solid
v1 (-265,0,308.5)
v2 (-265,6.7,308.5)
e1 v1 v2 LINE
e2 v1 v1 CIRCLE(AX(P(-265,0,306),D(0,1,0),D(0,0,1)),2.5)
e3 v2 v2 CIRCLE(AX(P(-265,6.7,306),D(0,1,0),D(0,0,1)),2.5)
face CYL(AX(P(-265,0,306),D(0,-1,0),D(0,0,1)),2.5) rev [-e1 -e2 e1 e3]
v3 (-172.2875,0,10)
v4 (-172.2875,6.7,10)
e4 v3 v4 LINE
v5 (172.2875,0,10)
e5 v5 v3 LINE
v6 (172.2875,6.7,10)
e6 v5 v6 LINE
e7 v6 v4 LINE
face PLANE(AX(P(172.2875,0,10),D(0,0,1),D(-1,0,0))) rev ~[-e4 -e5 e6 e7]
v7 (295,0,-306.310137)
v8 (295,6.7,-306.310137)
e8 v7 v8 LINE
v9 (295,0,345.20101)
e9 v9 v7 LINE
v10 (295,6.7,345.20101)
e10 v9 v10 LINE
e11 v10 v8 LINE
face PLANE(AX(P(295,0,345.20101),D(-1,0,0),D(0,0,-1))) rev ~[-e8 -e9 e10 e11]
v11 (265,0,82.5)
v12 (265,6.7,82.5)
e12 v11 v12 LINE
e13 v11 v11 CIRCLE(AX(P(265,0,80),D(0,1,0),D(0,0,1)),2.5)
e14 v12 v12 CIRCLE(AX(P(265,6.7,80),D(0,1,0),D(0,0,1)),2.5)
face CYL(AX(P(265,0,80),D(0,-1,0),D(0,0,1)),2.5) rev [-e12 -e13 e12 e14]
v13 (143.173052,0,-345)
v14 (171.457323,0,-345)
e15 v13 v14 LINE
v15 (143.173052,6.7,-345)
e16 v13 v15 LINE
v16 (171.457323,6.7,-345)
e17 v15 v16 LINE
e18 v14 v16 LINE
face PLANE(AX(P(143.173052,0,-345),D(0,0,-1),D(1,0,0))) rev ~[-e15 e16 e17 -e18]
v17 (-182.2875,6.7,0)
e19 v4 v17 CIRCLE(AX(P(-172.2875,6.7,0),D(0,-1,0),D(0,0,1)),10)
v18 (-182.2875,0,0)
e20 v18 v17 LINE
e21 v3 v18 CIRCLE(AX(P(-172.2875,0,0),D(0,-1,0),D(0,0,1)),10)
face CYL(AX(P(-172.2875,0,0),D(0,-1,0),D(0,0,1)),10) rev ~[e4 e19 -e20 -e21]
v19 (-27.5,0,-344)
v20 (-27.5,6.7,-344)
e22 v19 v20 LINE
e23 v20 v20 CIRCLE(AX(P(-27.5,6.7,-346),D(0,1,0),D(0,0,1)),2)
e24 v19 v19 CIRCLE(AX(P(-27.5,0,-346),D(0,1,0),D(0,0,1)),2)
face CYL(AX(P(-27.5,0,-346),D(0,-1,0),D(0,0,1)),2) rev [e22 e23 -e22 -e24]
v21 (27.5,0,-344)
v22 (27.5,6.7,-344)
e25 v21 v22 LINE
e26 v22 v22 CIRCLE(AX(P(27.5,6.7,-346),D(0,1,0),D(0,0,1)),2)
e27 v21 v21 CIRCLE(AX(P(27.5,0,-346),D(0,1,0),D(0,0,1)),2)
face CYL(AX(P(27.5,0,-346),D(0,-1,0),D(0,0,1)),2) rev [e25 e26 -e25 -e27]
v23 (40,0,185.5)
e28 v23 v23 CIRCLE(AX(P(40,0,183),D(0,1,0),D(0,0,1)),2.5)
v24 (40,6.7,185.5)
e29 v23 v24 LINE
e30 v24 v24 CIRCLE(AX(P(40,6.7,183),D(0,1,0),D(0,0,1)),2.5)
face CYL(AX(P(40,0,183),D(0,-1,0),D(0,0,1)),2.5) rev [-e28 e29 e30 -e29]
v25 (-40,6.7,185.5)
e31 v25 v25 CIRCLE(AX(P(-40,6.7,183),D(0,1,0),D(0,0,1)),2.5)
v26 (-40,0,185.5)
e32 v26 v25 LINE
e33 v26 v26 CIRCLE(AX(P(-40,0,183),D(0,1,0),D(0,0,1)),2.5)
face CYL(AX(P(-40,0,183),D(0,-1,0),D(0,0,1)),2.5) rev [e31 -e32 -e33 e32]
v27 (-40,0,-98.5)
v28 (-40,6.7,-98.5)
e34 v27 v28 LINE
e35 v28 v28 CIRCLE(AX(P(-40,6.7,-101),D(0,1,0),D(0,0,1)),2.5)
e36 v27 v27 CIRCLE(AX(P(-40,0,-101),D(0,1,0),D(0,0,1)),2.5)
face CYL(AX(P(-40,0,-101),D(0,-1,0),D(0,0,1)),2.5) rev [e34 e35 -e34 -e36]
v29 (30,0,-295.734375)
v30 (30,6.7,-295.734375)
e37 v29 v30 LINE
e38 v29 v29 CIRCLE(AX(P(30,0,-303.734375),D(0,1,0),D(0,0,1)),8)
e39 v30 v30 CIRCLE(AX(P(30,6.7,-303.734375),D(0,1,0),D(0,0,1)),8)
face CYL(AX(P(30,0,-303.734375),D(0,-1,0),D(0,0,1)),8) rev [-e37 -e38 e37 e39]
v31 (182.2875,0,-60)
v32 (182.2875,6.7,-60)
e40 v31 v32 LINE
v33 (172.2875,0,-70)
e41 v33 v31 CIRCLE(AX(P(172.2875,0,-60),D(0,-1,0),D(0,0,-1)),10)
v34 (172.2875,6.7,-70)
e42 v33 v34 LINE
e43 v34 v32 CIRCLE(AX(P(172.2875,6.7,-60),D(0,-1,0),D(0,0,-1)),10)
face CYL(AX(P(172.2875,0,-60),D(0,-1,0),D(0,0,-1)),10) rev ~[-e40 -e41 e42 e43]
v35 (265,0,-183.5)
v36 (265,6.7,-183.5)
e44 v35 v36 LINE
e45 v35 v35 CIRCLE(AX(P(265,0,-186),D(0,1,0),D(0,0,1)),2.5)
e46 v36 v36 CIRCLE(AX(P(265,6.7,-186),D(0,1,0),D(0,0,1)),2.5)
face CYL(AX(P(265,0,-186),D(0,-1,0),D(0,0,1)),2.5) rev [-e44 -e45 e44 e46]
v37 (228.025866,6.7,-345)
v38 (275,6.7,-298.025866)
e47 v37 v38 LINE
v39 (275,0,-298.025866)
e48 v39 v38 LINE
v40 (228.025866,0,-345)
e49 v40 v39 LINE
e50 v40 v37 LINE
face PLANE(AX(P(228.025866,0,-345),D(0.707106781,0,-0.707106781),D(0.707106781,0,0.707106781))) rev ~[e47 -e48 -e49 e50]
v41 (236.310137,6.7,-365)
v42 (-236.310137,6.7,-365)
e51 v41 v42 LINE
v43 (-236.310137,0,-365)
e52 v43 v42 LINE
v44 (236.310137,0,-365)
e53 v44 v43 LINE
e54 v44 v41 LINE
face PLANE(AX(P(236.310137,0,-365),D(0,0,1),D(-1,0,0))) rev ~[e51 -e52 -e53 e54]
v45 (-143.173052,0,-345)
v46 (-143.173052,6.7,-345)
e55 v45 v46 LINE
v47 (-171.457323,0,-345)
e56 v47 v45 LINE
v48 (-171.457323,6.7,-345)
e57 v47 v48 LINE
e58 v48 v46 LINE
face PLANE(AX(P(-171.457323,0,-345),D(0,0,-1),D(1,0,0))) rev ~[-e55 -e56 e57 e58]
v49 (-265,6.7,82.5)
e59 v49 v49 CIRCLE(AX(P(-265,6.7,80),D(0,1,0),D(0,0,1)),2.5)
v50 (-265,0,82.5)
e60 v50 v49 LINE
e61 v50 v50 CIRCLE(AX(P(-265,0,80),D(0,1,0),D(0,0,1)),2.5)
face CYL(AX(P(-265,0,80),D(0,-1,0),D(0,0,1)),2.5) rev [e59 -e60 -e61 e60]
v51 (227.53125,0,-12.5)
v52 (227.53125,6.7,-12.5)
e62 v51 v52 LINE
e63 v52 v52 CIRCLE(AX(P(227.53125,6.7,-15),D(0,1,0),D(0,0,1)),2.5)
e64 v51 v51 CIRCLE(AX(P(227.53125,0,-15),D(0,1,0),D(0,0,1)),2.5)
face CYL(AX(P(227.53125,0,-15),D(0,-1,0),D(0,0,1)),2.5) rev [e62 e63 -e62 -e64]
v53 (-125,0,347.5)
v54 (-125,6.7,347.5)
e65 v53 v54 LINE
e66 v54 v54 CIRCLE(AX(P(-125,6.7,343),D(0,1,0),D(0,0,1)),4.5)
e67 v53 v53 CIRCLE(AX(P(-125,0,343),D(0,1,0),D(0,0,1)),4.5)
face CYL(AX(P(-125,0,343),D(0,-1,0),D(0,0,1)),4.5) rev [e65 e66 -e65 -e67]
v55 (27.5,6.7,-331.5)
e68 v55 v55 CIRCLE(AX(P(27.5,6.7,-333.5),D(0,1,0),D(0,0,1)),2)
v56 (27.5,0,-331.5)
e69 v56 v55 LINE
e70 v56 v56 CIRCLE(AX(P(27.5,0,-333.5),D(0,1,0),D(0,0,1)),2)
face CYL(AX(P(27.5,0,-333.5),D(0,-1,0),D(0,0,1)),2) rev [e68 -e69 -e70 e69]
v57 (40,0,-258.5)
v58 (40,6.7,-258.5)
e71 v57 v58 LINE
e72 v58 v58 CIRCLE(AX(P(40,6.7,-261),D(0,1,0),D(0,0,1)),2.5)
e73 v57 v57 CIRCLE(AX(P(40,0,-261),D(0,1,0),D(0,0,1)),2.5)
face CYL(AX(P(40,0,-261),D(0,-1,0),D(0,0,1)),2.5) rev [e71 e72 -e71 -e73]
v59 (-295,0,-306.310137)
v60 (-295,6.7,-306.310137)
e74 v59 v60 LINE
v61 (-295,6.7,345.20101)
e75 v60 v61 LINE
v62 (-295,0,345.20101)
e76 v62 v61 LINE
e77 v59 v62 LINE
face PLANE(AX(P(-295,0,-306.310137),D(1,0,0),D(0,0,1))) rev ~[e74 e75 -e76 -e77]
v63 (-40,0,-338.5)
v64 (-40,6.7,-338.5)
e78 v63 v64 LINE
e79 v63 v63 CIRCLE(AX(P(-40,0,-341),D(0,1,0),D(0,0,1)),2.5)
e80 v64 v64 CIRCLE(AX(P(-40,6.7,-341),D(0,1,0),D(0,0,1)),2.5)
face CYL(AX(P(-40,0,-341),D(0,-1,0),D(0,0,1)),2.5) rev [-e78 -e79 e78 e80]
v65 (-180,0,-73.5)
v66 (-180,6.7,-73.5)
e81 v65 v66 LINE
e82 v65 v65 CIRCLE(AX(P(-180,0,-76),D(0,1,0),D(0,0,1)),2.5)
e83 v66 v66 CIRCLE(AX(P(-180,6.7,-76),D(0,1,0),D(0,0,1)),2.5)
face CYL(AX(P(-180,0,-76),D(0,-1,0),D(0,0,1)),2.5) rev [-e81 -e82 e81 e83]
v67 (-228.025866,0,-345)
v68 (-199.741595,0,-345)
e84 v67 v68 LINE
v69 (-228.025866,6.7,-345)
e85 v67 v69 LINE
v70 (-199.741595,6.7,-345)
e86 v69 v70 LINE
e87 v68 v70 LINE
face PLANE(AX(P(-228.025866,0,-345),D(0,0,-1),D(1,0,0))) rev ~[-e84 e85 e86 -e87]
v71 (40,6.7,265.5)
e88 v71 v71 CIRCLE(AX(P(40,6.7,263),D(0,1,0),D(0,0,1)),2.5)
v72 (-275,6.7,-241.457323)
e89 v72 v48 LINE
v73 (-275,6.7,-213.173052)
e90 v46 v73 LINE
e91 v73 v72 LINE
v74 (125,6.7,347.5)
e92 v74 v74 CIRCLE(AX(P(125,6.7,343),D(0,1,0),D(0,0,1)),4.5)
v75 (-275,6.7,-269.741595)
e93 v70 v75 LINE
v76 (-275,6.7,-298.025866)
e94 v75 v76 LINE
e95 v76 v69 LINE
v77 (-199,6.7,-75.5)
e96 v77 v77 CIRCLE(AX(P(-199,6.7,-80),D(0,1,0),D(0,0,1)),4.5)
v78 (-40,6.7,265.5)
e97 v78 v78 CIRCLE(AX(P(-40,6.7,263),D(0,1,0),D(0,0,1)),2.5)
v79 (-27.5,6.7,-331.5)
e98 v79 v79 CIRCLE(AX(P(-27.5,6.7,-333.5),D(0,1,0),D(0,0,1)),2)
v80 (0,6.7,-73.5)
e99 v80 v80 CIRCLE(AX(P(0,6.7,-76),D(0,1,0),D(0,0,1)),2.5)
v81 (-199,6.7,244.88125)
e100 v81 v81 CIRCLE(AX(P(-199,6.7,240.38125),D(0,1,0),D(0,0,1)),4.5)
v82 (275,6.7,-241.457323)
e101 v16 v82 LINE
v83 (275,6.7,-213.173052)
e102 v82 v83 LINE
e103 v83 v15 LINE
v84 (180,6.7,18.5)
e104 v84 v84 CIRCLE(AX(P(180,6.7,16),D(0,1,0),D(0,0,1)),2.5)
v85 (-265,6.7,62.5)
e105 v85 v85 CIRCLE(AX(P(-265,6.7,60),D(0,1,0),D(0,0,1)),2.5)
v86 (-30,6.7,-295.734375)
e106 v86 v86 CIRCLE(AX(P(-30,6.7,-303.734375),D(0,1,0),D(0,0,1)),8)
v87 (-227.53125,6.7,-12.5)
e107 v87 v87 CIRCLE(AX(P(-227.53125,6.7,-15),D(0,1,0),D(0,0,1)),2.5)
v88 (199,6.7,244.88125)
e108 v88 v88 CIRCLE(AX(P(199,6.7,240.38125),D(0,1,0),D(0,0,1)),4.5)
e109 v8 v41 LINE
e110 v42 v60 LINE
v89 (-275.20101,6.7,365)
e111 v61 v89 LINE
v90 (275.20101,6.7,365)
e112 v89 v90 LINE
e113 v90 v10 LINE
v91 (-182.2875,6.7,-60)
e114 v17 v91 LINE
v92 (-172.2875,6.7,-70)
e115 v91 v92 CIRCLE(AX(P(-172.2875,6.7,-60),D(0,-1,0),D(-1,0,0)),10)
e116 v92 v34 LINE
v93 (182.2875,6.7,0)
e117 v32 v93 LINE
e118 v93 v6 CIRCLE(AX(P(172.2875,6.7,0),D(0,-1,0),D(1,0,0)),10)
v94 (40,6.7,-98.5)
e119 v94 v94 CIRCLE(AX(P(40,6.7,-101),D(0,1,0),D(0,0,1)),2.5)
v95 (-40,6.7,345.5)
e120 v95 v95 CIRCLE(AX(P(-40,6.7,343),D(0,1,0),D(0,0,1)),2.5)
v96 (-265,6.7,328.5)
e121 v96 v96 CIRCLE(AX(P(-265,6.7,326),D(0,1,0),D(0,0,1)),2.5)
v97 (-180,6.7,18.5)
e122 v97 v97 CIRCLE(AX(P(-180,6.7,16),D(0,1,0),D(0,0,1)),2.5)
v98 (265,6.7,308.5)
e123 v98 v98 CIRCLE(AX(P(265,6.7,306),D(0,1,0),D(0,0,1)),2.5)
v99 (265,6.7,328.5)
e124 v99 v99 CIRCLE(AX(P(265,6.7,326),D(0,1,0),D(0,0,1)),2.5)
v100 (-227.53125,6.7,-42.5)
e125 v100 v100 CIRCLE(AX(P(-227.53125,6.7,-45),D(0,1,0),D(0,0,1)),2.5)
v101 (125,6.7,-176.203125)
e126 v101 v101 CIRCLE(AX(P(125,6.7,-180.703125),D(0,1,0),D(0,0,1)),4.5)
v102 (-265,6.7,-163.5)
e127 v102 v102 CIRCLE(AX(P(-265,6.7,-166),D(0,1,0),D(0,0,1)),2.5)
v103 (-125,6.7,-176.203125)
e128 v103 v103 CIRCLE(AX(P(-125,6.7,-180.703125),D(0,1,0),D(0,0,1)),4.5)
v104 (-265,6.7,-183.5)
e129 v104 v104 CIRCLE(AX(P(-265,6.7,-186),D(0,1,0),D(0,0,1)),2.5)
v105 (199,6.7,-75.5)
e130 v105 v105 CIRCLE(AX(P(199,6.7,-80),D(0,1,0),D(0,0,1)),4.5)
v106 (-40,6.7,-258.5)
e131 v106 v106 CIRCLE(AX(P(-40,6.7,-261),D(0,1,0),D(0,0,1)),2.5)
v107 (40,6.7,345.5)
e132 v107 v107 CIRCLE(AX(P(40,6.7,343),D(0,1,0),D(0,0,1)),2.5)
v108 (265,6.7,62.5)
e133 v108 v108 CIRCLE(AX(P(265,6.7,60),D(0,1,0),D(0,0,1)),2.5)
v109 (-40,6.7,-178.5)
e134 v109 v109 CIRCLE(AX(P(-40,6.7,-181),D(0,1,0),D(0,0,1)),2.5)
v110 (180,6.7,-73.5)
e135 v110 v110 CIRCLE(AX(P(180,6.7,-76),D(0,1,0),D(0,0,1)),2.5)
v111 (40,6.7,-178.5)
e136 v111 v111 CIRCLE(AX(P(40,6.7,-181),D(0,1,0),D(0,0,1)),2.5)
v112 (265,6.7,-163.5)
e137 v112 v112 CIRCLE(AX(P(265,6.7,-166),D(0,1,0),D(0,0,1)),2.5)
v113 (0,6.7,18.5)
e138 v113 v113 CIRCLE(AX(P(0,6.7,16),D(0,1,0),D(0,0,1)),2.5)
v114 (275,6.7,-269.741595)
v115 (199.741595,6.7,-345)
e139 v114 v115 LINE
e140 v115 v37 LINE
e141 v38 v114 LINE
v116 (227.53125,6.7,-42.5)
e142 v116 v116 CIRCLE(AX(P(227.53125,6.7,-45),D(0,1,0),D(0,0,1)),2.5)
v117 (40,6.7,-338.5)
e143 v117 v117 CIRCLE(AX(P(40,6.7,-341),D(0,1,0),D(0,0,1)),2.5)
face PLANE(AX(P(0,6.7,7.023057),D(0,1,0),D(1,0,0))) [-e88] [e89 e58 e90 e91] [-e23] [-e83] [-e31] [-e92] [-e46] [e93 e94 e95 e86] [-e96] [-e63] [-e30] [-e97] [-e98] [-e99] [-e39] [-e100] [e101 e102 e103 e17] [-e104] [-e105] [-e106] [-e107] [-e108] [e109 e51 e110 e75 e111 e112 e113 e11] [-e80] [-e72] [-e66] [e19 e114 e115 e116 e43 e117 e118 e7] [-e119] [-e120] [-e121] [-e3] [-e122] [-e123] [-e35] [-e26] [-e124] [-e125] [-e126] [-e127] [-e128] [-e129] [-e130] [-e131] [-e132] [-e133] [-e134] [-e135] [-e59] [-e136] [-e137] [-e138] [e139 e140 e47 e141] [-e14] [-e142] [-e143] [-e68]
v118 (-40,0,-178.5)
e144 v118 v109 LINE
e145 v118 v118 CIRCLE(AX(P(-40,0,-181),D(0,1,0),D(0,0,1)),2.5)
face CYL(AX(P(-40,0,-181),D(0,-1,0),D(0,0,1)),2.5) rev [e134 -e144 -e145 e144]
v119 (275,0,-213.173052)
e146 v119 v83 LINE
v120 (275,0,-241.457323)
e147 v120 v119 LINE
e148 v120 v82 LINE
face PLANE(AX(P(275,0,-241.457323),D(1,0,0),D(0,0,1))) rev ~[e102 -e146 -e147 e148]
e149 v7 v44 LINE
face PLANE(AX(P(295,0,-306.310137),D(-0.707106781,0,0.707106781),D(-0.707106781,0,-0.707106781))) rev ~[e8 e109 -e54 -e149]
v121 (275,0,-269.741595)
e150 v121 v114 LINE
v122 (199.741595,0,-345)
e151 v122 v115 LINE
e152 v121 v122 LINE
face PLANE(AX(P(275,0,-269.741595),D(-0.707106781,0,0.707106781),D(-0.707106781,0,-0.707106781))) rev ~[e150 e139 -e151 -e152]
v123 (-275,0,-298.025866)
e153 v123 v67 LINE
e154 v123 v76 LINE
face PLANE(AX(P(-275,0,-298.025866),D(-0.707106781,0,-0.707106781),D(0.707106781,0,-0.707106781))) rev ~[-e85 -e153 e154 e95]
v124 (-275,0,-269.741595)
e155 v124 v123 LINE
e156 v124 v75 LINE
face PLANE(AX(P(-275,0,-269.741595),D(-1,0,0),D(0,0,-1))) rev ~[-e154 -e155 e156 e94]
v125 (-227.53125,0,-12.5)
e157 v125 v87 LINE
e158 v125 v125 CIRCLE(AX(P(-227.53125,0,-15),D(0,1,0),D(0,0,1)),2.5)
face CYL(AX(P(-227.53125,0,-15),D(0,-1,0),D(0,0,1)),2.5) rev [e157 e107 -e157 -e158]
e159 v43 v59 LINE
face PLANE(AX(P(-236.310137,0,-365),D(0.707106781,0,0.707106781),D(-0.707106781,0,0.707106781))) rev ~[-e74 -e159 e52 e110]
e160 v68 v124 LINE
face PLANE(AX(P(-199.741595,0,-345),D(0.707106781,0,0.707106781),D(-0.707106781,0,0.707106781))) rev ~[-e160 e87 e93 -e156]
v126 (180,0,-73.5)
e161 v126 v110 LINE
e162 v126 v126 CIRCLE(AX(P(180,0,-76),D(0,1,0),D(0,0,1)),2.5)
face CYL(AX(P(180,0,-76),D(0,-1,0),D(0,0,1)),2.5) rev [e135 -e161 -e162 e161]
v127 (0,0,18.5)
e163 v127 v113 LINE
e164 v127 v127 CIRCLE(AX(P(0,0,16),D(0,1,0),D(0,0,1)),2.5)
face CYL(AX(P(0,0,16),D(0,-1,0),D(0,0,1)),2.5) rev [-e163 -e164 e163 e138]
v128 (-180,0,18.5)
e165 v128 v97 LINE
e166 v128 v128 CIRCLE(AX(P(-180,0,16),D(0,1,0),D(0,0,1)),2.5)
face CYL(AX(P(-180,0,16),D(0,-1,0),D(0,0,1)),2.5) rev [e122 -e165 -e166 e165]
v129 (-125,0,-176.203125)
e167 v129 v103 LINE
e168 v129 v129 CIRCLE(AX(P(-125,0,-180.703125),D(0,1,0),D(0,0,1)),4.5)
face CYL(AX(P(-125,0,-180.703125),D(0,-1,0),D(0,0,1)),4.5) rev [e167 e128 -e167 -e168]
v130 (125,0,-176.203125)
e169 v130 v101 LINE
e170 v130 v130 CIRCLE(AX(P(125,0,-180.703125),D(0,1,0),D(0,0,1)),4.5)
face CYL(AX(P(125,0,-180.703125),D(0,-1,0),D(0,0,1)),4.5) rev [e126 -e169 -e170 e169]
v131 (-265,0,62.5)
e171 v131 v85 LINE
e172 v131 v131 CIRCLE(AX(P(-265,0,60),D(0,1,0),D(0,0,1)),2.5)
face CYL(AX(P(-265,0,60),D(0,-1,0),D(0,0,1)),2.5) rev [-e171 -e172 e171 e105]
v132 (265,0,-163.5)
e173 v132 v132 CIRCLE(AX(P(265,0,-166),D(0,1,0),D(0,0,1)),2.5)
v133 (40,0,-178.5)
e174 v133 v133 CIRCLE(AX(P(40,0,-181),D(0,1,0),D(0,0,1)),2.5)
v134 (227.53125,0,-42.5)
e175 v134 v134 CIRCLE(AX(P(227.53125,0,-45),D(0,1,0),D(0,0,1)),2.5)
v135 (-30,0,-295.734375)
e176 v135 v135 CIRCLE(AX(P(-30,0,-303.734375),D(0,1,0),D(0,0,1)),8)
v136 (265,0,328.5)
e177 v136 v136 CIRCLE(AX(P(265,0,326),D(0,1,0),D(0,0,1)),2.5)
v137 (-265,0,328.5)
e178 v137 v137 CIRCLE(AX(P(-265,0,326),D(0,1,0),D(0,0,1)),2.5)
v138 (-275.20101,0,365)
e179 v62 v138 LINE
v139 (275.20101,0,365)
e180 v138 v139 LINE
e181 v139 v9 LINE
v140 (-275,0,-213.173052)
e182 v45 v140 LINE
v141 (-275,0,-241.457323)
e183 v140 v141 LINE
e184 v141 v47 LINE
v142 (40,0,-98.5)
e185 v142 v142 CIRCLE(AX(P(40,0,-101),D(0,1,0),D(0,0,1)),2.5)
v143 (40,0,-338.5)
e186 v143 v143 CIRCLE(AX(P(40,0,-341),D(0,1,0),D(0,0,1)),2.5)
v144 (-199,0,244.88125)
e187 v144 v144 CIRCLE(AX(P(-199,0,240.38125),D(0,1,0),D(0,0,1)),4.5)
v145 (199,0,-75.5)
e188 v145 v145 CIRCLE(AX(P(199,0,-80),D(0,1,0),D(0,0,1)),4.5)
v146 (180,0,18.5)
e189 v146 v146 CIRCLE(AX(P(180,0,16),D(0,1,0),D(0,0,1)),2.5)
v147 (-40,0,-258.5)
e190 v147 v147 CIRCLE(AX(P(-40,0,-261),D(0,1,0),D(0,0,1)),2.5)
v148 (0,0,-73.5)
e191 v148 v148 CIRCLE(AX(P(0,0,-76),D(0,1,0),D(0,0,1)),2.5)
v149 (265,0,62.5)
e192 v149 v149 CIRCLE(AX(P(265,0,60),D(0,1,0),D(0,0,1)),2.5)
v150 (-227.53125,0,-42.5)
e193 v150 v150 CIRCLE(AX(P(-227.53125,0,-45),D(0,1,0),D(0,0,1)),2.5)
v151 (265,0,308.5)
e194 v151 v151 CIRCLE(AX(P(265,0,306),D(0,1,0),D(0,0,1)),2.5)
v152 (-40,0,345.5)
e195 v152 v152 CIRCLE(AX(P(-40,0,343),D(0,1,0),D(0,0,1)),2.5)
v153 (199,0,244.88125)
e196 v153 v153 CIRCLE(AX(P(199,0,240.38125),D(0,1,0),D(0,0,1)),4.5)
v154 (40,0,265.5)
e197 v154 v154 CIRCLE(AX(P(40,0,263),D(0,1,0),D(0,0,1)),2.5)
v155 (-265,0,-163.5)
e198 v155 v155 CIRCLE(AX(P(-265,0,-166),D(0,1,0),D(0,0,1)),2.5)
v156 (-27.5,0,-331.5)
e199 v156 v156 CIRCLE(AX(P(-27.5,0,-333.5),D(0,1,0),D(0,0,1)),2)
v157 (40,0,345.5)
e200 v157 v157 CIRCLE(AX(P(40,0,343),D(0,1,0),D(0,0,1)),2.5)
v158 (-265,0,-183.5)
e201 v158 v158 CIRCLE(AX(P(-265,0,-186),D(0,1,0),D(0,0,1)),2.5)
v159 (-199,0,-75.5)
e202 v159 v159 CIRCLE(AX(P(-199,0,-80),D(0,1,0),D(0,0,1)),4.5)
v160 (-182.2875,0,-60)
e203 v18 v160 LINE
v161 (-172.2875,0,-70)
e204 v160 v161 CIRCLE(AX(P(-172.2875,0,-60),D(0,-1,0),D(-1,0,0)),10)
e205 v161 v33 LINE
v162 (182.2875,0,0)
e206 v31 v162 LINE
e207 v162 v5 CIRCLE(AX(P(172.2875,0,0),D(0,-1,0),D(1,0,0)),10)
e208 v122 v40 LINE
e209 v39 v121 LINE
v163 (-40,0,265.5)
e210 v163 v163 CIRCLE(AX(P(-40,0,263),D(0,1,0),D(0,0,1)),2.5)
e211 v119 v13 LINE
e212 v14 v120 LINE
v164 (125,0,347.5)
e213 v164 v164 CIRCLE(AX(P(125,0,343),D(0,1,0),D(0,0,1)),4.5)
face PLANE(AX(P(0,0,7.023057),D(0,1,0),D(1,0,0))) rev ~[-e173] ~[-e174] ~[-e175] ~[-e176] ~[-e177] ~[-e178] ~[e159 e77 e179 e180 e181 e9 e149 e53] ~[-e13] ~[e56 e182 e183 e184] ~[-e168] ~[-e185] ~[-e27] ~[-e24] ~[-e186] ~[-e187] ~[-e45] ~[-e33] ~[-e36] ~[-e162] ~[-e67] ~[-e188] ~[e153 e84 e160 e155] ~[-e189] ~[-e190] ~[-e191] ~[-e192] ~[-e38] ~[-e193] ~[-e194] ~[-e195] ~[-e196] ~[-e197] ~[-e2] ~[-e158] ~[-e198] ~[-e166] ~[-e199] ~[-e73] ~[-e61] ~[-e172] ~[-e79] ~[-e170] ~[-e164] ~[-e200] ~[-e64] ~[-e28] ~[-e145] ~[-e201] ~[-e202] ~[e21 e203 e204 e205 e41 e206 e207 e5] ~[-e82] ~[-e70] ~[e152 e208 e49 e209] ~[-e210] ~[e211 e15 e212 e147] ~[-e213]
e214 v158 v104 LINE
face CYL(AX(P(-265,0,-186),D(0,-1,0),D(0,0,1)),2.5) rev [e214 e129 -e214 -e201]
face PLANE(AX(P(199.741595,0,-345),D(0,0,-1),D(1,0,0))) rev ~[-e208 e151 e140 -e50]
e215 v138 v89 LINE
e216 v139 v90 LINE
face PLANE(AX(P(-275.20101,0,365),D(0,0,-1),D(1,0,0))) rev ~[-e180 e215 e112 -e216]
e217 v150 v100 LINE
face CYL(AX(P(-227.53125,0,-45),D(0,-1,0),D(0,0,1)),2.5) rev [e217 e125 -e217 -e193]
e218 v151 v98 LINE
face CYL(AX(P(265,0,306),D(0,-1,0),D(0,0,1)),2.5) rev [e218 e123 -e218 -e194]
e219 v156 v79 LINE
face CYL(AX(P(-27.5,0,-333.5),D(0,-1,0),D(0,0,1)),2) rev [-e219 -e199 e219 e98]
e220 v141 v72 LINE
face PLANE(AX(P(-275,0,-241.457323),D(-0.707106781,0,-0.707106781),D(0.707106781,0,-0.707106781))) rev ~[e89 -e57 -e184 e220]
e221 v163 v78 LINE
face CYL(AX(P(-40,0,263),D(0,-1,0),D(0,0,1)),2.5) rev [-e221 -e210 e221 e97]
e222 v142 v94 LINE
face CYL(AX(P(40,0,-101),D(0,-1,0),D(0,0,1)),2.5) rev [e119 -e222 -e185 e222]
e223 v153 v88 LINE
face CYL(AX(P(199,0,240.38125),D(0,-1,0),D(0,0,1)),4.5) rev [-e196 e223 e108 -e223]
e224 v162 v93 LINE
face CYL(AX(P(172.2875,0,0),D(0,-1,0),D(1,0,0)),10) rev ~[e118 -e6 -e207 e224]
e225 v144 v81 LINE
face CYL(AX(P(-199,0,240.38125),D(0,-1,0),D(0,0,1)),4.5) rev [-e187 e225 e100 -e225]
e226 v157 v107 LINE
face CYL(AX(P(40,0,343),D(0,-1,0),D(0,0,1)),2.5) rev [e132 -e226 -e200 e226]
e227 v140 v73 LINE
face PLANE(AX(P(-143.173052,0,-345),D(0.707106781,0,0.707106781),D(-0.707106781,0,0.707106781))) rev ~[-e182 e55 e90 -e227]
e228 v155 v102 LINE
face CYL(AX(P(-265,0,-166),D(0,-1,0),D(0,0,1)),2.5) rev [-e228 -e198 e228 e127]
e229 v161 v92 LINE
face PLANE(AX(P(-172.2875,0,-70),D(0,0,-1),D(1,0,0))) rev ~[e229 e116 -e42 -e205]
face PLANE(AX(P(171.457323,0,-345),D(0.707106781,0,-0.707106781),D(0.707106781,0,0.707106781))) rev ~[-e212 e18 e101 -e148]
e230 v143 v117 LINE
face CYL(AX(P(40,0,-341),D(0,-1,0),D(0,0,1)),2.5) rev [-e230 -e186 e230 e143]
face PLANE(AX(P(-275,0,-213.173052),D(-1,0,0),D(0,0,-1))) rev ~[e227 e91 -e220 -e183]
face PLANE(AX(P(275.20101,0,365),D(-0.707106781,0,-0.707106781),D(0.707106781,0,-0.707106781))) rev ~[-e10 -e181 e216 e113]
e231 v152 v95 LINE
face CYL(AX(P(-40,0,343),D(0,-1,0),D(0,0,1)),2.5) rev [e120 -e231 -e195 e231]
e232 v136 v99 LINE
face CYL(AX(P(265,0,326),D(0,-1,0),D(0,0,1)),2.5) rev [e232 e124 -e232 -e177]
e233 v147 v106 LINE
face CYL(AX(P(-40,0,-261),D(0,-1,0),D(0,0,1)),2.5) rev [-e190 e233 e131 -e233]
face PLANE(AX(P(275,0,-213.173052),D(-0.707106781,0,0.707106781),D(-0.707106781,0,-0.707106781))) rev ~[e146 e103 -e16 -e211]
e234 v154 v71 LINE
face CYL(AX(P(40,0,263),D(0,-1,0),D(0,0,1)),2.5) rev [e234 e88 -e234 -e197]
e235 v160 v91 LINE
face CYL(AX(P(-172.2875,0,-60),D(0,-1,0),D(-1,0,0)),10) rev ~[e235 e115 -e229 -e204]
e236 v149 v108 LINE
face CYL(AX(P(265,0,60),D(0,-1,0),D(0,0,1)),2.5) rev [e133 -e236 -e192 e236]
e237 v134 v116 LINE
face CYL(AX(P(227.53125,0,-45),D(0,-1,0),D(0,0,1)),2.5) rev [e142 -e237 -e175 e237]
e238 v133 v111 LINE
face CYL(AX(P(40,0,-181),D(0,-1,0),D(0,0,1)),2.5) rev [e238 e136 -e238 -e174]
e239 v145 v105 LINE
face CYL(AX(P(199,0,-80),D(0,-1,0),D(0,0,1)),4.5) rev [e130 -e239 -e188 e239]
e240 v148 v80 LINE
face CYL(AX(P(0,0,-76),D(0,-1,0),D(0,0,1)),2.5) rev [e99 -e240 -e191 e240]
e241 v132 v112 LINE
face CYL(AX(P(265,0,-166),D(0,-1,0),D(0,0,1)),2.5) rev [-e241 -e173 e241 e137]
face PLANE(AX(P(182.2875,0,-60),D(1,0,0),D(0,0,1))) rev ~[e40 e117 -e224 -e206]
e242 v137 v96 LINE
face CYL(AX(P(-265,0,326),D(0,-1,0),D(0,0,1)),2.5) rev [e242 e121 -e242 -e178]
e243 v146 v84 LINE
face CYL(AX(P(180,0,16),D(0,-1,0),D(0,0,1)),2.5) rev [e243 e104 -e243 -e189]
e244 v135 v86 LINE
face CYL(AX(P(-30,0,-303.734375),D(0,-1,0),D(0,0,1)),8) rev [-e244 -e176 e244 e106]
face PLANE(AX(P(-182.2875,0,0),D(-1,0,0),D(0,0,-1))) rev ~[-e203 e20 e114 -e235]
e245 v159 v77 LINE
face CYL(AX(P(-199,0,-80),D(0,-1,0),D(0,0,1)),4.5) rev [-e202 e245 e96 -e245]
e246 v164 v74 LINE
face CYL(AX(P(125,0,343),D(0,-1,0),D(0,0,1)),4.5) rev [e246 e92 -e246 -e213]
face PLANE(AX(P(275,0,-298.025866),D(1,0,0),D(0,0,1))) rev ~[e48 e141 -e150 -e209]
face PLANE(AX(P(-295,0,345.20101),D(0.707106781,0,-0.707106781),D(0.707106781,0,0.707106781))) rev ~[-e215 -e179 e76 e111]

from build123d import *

# Parameters (mm, degrees)
SKETCH2_R           = 2.5
SKETCH2_R_2         = 4.5
SKETCH2_R_3         = 8
SKETCH2_R_4         = 2
BOSS_EXTRUDE1_DEPTH = 6.7


with BuildPart() as part:
    # Sketch2 → Boss-Extrude1 (new body)
    with BuildSketch(Plane(origin=(0, 0, 0), x_dir=(1, 0, 0), z_dir=(0, 1, 0))):
        Polygon((275.201010127, -365), (295, -345.201010127), (295, 306.310137162), (236.310137162, 365), (-236.310137162, 365), (-295, 306.310137162), (-295, -345.201010127), (-275.201010127, -365), align=None)
        with Locations(Location((-265, -326, 0), (0, 0, 270))):
            Circle(SKETCH2_R, mode=Mode.SUBTRACT)
        with Locations(Location((-265, -306, 0), (0, 0, 270))):
            Circle(SKETCH2_R, mode=Mode.SUBTRACT)
        with Locations(Location((-199, -240.38125, 0), (0, 0, 270))):
            Circle(SKETCH2_R_2, mode=Mode.SUBTRACT)
        with Locations(Location((-125, -343, 0), (0, 0, 270))):
            Circle(SKETCH2_R_2, mode=Mode.SUBTRACT)
        with Locations(Location((-40, -343, 0), (0, 0, 270))):
            Circle(SKETCH2_R, mode=Mode.SUBTRACT)
        with Locations(Location((-40, -263, 0), (0, 0, 270))):
            Circle(SKETCH2_R, mode=Mode.SUBTRACT)
        with Locations(Location((-40, -183, 0), (0, 0, 270))):
            Circle(SKETCH2_R, mode=Mode.SUBTRACT)
        with Locations(Location((-265, -80, 0), (0, 0, 270))):
            Circle(SKETCH2_R, mode=Mode.SUBTRACT)
        with Locations(Location((-265, -60, 0), (0, 0, 270))):
            Circle(SKETCH2_R, mode=Mode.SUBTRACT)
        with Locations(Location((-180, -16, 0), (0, 0, 270))):
            Circle(SKETCH2_R, mode=Mode.SUBTRACT)
        with Locations(Location((40, -343, 0), (0, 0, 270))):
            Circle(SKETCH2_R, mode=Mode.SUBTRACT)
        with Locations(Location((125, -343, 0), (0, 0, 270))):
            Circle(SKETCH2_R_2, mode=Mode.SUBTRACT)
        with Locations(Location((40, -263, 0), (0, 0, 270))):
            Circle(SKETCH2_R, mode=Mode.SUBTRACT)
        with Locations(Location((40, -183, 0), (0, 0, 270))):
            Circle(SKETCH2_R, mode=Mode.SUBTRACT)
        with Locations(Location((265, -326, 0), (0, 0, 270))):
            Circle(SKETCH2_R, mode=Mode.SUBTRACT)
        with Locations(Location((265, -306, 0), (0, 0, 270))):
            Circle(SKETCH2_R, mode=Mode.SUBTRACT)
        with Locations(Location((199, -240.38125, 0), (0, 0, 270))):
            Circle(SKETCH2_R_2, mode=Mode.SUBTRACT)
        with Locations(Location((0, -16, 0), (0, 0, 270))):
            Circle(SKETCH2_R, mode=Mode.SUBTRACT)
        with Locations(Location((180, -16, 0), (0, 0, 270))):
            Circle(SKETCH2_R, mode=Mode.SUBTRACT)
        with Locations(Location((265, -80, 0), (0, 0, 270))):
            Circle(SKETCH2_R, mode=Mode.SUBTRACT)
        with Locations(Location((265, -60, 0), (0, 0, 270))):
            Circle(SKETCH2_R, mode=Mode.SUBTRACT)
        with Locations(Location((-227.53125, 15, 0), (0, 0, 270))):
            Circle(SKETCH2_R, mode=Mode.SUBTRACT)
        with Locations(Location((-227.53125, 45, 0), (0, 0, 270))):
            Circle(SKETCH2_R, mode=Mode.SUBTRACT)
        with Locations(Location((-199, 80, 0), (0, 0, 270))):
            Circle(SKETCH2_R_2, mode=Mode.SUBTRACT)
        with Locations(Location((-180, 76, 0), (0, 0, 270))):
            Circle(SKETCH2_R, mode=Mode.SUBTRACT)
        with Locations(Location((-265, 166, 0), (0, 0, 270))):
            Circle(SKETCH2_R, mode=Mode.SUBTRACT)
        with Locations(Location((-125, 180.703125, 0), (0, 0, 270))):
            Circle(SKETCH2_R_2, mode=Mode.SUBTRACT)
        with Locations(Location((-40, 101, 0), (0, 0, 270))):
            Circle(SKETCH2_R, mode=Mode.SUBTRACT)
        with Locations(Location((-40, 181, 0), (0, 0, 270))):
            Circle(SKETCH2_R, mode=Mode.SUBTRACT)
        with Locations(Location((-265, 186, 0), (0, 0, 270))):
            Circle(SKETCH2_R, mode=Mode.SUBTRACT)
        Polygon((-275, 269.741594667), (-275, 298.025865914), (-228.025865914, 345), (-199.741594667, 345), align=None, mode=Mode.SUBTRACT)
        Polygon((-143.173052172, 345), (-275, 213.173052172), (-275, 241.457323419), (-171.457323419, 345), align=None, mode=Mode.SUBTRACT)
        with Locations(Location((-40, 261, 0), (0, 0, 270))):
            Circle(SKETCH2_R, mode=Mode.SUBTRACT)
        with Locations(Location((-30, 303.734375, 0), (0, 0, 270))):
            Circle(SKETCH2_R_3, mode=Mode.SUBTRACT)
        with Locations(Location((-40, 341, 0), (0, 0, 270))):
            Circle(SKETCH2_R, mode=Mode.SUBTRACT)
        with Locations(Location((-27.5, 333.5, 0), (0, 0, 270))):
            Circle(SKETCH2_R_4, mode=Mode.SUBTRACT)
        with Locations(Location((-27.5, 346, 0), (0, 0, 270))):
            Circle(SKETCH2_R_4, mode=Mode.SUBTRACT)
        with BuildLine():
            Line((172.2875, -10), (-172.2875, -10))
            ThreePointArc((-172.2875, -10), (-179.358567812, -7.071067812), (-182.2875, 0))
            Line((-182.2875, 0), (-182.2875, 60))
            ThreePointArc((-182.2875, 60), (-179.358567812, 67.071067812), (-172.2875, 70))
            Line((-172.2875, 70), (172.2875, 70))
            ThreePointArc((172.2875, 70), (179.358567812, 67.071067812), (182.2875, 60))
            Line((182.2875, 60), (182.2875, 0))
            ThreePointArc((182.2875, 0), (179.358567812, -7.071067812), (172.2875, -10))
        make_face(mode=Mode.SUBTRACT)
        with Locations(Location((0, 76, 0), (0, 0, 270))):
            Circle(SKETCH2_R, mode=Mode.SUBTRACT)
        with Locations(Location((40, 101, 0), (0, 0, 270))):
            Circle(SKETCH2_R, mode=Mode.SUBTRACT)
        with Locations(Location((40, 181, 0), (0, 0, 270))):
            Circle(SKETCH2_R, mode=Mode.SUBTRACT)
        with Locations(Location((125, 180.703125, 0), (0, 0, 270))):
            Circle(SKETCH2_R_2, mode=Mode.SUBTRACT)
        with Locations(Location((180, 76, 0), (0, 0, 270))):
            Circle(SKETCH2_R, mode=Mode.SUBTRACT)
        with Locations(Location((199, 80, 0), (0, 0, 270))):
            Circle(SKETCH2_R_2, mode=Mode.SUBTRACT)
        with Locations(Location((227.53125, 15, 0), (0, 0, 270))):
            Circle(SKETCH2_R, mode=Mode.SUBTRACT)
        with Locations(Location((227.53125, 45, 0), (0, 0, 270))):
            Circle(SKETCH2_R, mode=Mode.SUBTRACT)
        with Locations(Location((265, 166, 0), (0, 0, 270))):
            Circle(SKETCH2_R, mode=Mode.SUBTRACT)
        with Locations(Location((40, 261, 0), (0, 0, 270))):
            Circle(SKETCH2_R, mode=Mode.SUBTRACT)
        with Locations(Location((30, 303.734375, 0), (0, 0, 270))):
            Circle(SKETCH2_R_3, mode=Mode.SUBTRACT)
        with Locations(Location((27.5, 333.5, 0), (0, 0, 270))):
            Circle(SKETCH2_R_4, mode=Mode.SUBTRACT)
        with Locations(Location((27.5, 346, 0), (0, 0, 270))):
            Circle(SKETCH2_R_4, mode=Mode.SUBTRACT)
        with Locations(Location((40, 341, 0), (0, 0, 270))):
            Circle(SKETCH2_R, mode=Mode.SUBTRACT)
        with Locations(Location((265, 186, 0), (0, 0, 270))):
            Circle(SKETCH2_R, mode=Mode.SUBTRACT)
        Polygon((143.173052172, 345), (171.457323419, 345), (275, 241.457323419), (275, 213.173052172), align=None, mode=Mode.SUBTRACT)
        Polygon((199.741594667, 345), (228.025865914, 345), (275, 298.025865914), (275, 269.741594667), align=None, mode=Mode.SUBTRACT)
    extrude(amount=BOSS_EXTRUDE1_DEPTH)


solid = part.part
